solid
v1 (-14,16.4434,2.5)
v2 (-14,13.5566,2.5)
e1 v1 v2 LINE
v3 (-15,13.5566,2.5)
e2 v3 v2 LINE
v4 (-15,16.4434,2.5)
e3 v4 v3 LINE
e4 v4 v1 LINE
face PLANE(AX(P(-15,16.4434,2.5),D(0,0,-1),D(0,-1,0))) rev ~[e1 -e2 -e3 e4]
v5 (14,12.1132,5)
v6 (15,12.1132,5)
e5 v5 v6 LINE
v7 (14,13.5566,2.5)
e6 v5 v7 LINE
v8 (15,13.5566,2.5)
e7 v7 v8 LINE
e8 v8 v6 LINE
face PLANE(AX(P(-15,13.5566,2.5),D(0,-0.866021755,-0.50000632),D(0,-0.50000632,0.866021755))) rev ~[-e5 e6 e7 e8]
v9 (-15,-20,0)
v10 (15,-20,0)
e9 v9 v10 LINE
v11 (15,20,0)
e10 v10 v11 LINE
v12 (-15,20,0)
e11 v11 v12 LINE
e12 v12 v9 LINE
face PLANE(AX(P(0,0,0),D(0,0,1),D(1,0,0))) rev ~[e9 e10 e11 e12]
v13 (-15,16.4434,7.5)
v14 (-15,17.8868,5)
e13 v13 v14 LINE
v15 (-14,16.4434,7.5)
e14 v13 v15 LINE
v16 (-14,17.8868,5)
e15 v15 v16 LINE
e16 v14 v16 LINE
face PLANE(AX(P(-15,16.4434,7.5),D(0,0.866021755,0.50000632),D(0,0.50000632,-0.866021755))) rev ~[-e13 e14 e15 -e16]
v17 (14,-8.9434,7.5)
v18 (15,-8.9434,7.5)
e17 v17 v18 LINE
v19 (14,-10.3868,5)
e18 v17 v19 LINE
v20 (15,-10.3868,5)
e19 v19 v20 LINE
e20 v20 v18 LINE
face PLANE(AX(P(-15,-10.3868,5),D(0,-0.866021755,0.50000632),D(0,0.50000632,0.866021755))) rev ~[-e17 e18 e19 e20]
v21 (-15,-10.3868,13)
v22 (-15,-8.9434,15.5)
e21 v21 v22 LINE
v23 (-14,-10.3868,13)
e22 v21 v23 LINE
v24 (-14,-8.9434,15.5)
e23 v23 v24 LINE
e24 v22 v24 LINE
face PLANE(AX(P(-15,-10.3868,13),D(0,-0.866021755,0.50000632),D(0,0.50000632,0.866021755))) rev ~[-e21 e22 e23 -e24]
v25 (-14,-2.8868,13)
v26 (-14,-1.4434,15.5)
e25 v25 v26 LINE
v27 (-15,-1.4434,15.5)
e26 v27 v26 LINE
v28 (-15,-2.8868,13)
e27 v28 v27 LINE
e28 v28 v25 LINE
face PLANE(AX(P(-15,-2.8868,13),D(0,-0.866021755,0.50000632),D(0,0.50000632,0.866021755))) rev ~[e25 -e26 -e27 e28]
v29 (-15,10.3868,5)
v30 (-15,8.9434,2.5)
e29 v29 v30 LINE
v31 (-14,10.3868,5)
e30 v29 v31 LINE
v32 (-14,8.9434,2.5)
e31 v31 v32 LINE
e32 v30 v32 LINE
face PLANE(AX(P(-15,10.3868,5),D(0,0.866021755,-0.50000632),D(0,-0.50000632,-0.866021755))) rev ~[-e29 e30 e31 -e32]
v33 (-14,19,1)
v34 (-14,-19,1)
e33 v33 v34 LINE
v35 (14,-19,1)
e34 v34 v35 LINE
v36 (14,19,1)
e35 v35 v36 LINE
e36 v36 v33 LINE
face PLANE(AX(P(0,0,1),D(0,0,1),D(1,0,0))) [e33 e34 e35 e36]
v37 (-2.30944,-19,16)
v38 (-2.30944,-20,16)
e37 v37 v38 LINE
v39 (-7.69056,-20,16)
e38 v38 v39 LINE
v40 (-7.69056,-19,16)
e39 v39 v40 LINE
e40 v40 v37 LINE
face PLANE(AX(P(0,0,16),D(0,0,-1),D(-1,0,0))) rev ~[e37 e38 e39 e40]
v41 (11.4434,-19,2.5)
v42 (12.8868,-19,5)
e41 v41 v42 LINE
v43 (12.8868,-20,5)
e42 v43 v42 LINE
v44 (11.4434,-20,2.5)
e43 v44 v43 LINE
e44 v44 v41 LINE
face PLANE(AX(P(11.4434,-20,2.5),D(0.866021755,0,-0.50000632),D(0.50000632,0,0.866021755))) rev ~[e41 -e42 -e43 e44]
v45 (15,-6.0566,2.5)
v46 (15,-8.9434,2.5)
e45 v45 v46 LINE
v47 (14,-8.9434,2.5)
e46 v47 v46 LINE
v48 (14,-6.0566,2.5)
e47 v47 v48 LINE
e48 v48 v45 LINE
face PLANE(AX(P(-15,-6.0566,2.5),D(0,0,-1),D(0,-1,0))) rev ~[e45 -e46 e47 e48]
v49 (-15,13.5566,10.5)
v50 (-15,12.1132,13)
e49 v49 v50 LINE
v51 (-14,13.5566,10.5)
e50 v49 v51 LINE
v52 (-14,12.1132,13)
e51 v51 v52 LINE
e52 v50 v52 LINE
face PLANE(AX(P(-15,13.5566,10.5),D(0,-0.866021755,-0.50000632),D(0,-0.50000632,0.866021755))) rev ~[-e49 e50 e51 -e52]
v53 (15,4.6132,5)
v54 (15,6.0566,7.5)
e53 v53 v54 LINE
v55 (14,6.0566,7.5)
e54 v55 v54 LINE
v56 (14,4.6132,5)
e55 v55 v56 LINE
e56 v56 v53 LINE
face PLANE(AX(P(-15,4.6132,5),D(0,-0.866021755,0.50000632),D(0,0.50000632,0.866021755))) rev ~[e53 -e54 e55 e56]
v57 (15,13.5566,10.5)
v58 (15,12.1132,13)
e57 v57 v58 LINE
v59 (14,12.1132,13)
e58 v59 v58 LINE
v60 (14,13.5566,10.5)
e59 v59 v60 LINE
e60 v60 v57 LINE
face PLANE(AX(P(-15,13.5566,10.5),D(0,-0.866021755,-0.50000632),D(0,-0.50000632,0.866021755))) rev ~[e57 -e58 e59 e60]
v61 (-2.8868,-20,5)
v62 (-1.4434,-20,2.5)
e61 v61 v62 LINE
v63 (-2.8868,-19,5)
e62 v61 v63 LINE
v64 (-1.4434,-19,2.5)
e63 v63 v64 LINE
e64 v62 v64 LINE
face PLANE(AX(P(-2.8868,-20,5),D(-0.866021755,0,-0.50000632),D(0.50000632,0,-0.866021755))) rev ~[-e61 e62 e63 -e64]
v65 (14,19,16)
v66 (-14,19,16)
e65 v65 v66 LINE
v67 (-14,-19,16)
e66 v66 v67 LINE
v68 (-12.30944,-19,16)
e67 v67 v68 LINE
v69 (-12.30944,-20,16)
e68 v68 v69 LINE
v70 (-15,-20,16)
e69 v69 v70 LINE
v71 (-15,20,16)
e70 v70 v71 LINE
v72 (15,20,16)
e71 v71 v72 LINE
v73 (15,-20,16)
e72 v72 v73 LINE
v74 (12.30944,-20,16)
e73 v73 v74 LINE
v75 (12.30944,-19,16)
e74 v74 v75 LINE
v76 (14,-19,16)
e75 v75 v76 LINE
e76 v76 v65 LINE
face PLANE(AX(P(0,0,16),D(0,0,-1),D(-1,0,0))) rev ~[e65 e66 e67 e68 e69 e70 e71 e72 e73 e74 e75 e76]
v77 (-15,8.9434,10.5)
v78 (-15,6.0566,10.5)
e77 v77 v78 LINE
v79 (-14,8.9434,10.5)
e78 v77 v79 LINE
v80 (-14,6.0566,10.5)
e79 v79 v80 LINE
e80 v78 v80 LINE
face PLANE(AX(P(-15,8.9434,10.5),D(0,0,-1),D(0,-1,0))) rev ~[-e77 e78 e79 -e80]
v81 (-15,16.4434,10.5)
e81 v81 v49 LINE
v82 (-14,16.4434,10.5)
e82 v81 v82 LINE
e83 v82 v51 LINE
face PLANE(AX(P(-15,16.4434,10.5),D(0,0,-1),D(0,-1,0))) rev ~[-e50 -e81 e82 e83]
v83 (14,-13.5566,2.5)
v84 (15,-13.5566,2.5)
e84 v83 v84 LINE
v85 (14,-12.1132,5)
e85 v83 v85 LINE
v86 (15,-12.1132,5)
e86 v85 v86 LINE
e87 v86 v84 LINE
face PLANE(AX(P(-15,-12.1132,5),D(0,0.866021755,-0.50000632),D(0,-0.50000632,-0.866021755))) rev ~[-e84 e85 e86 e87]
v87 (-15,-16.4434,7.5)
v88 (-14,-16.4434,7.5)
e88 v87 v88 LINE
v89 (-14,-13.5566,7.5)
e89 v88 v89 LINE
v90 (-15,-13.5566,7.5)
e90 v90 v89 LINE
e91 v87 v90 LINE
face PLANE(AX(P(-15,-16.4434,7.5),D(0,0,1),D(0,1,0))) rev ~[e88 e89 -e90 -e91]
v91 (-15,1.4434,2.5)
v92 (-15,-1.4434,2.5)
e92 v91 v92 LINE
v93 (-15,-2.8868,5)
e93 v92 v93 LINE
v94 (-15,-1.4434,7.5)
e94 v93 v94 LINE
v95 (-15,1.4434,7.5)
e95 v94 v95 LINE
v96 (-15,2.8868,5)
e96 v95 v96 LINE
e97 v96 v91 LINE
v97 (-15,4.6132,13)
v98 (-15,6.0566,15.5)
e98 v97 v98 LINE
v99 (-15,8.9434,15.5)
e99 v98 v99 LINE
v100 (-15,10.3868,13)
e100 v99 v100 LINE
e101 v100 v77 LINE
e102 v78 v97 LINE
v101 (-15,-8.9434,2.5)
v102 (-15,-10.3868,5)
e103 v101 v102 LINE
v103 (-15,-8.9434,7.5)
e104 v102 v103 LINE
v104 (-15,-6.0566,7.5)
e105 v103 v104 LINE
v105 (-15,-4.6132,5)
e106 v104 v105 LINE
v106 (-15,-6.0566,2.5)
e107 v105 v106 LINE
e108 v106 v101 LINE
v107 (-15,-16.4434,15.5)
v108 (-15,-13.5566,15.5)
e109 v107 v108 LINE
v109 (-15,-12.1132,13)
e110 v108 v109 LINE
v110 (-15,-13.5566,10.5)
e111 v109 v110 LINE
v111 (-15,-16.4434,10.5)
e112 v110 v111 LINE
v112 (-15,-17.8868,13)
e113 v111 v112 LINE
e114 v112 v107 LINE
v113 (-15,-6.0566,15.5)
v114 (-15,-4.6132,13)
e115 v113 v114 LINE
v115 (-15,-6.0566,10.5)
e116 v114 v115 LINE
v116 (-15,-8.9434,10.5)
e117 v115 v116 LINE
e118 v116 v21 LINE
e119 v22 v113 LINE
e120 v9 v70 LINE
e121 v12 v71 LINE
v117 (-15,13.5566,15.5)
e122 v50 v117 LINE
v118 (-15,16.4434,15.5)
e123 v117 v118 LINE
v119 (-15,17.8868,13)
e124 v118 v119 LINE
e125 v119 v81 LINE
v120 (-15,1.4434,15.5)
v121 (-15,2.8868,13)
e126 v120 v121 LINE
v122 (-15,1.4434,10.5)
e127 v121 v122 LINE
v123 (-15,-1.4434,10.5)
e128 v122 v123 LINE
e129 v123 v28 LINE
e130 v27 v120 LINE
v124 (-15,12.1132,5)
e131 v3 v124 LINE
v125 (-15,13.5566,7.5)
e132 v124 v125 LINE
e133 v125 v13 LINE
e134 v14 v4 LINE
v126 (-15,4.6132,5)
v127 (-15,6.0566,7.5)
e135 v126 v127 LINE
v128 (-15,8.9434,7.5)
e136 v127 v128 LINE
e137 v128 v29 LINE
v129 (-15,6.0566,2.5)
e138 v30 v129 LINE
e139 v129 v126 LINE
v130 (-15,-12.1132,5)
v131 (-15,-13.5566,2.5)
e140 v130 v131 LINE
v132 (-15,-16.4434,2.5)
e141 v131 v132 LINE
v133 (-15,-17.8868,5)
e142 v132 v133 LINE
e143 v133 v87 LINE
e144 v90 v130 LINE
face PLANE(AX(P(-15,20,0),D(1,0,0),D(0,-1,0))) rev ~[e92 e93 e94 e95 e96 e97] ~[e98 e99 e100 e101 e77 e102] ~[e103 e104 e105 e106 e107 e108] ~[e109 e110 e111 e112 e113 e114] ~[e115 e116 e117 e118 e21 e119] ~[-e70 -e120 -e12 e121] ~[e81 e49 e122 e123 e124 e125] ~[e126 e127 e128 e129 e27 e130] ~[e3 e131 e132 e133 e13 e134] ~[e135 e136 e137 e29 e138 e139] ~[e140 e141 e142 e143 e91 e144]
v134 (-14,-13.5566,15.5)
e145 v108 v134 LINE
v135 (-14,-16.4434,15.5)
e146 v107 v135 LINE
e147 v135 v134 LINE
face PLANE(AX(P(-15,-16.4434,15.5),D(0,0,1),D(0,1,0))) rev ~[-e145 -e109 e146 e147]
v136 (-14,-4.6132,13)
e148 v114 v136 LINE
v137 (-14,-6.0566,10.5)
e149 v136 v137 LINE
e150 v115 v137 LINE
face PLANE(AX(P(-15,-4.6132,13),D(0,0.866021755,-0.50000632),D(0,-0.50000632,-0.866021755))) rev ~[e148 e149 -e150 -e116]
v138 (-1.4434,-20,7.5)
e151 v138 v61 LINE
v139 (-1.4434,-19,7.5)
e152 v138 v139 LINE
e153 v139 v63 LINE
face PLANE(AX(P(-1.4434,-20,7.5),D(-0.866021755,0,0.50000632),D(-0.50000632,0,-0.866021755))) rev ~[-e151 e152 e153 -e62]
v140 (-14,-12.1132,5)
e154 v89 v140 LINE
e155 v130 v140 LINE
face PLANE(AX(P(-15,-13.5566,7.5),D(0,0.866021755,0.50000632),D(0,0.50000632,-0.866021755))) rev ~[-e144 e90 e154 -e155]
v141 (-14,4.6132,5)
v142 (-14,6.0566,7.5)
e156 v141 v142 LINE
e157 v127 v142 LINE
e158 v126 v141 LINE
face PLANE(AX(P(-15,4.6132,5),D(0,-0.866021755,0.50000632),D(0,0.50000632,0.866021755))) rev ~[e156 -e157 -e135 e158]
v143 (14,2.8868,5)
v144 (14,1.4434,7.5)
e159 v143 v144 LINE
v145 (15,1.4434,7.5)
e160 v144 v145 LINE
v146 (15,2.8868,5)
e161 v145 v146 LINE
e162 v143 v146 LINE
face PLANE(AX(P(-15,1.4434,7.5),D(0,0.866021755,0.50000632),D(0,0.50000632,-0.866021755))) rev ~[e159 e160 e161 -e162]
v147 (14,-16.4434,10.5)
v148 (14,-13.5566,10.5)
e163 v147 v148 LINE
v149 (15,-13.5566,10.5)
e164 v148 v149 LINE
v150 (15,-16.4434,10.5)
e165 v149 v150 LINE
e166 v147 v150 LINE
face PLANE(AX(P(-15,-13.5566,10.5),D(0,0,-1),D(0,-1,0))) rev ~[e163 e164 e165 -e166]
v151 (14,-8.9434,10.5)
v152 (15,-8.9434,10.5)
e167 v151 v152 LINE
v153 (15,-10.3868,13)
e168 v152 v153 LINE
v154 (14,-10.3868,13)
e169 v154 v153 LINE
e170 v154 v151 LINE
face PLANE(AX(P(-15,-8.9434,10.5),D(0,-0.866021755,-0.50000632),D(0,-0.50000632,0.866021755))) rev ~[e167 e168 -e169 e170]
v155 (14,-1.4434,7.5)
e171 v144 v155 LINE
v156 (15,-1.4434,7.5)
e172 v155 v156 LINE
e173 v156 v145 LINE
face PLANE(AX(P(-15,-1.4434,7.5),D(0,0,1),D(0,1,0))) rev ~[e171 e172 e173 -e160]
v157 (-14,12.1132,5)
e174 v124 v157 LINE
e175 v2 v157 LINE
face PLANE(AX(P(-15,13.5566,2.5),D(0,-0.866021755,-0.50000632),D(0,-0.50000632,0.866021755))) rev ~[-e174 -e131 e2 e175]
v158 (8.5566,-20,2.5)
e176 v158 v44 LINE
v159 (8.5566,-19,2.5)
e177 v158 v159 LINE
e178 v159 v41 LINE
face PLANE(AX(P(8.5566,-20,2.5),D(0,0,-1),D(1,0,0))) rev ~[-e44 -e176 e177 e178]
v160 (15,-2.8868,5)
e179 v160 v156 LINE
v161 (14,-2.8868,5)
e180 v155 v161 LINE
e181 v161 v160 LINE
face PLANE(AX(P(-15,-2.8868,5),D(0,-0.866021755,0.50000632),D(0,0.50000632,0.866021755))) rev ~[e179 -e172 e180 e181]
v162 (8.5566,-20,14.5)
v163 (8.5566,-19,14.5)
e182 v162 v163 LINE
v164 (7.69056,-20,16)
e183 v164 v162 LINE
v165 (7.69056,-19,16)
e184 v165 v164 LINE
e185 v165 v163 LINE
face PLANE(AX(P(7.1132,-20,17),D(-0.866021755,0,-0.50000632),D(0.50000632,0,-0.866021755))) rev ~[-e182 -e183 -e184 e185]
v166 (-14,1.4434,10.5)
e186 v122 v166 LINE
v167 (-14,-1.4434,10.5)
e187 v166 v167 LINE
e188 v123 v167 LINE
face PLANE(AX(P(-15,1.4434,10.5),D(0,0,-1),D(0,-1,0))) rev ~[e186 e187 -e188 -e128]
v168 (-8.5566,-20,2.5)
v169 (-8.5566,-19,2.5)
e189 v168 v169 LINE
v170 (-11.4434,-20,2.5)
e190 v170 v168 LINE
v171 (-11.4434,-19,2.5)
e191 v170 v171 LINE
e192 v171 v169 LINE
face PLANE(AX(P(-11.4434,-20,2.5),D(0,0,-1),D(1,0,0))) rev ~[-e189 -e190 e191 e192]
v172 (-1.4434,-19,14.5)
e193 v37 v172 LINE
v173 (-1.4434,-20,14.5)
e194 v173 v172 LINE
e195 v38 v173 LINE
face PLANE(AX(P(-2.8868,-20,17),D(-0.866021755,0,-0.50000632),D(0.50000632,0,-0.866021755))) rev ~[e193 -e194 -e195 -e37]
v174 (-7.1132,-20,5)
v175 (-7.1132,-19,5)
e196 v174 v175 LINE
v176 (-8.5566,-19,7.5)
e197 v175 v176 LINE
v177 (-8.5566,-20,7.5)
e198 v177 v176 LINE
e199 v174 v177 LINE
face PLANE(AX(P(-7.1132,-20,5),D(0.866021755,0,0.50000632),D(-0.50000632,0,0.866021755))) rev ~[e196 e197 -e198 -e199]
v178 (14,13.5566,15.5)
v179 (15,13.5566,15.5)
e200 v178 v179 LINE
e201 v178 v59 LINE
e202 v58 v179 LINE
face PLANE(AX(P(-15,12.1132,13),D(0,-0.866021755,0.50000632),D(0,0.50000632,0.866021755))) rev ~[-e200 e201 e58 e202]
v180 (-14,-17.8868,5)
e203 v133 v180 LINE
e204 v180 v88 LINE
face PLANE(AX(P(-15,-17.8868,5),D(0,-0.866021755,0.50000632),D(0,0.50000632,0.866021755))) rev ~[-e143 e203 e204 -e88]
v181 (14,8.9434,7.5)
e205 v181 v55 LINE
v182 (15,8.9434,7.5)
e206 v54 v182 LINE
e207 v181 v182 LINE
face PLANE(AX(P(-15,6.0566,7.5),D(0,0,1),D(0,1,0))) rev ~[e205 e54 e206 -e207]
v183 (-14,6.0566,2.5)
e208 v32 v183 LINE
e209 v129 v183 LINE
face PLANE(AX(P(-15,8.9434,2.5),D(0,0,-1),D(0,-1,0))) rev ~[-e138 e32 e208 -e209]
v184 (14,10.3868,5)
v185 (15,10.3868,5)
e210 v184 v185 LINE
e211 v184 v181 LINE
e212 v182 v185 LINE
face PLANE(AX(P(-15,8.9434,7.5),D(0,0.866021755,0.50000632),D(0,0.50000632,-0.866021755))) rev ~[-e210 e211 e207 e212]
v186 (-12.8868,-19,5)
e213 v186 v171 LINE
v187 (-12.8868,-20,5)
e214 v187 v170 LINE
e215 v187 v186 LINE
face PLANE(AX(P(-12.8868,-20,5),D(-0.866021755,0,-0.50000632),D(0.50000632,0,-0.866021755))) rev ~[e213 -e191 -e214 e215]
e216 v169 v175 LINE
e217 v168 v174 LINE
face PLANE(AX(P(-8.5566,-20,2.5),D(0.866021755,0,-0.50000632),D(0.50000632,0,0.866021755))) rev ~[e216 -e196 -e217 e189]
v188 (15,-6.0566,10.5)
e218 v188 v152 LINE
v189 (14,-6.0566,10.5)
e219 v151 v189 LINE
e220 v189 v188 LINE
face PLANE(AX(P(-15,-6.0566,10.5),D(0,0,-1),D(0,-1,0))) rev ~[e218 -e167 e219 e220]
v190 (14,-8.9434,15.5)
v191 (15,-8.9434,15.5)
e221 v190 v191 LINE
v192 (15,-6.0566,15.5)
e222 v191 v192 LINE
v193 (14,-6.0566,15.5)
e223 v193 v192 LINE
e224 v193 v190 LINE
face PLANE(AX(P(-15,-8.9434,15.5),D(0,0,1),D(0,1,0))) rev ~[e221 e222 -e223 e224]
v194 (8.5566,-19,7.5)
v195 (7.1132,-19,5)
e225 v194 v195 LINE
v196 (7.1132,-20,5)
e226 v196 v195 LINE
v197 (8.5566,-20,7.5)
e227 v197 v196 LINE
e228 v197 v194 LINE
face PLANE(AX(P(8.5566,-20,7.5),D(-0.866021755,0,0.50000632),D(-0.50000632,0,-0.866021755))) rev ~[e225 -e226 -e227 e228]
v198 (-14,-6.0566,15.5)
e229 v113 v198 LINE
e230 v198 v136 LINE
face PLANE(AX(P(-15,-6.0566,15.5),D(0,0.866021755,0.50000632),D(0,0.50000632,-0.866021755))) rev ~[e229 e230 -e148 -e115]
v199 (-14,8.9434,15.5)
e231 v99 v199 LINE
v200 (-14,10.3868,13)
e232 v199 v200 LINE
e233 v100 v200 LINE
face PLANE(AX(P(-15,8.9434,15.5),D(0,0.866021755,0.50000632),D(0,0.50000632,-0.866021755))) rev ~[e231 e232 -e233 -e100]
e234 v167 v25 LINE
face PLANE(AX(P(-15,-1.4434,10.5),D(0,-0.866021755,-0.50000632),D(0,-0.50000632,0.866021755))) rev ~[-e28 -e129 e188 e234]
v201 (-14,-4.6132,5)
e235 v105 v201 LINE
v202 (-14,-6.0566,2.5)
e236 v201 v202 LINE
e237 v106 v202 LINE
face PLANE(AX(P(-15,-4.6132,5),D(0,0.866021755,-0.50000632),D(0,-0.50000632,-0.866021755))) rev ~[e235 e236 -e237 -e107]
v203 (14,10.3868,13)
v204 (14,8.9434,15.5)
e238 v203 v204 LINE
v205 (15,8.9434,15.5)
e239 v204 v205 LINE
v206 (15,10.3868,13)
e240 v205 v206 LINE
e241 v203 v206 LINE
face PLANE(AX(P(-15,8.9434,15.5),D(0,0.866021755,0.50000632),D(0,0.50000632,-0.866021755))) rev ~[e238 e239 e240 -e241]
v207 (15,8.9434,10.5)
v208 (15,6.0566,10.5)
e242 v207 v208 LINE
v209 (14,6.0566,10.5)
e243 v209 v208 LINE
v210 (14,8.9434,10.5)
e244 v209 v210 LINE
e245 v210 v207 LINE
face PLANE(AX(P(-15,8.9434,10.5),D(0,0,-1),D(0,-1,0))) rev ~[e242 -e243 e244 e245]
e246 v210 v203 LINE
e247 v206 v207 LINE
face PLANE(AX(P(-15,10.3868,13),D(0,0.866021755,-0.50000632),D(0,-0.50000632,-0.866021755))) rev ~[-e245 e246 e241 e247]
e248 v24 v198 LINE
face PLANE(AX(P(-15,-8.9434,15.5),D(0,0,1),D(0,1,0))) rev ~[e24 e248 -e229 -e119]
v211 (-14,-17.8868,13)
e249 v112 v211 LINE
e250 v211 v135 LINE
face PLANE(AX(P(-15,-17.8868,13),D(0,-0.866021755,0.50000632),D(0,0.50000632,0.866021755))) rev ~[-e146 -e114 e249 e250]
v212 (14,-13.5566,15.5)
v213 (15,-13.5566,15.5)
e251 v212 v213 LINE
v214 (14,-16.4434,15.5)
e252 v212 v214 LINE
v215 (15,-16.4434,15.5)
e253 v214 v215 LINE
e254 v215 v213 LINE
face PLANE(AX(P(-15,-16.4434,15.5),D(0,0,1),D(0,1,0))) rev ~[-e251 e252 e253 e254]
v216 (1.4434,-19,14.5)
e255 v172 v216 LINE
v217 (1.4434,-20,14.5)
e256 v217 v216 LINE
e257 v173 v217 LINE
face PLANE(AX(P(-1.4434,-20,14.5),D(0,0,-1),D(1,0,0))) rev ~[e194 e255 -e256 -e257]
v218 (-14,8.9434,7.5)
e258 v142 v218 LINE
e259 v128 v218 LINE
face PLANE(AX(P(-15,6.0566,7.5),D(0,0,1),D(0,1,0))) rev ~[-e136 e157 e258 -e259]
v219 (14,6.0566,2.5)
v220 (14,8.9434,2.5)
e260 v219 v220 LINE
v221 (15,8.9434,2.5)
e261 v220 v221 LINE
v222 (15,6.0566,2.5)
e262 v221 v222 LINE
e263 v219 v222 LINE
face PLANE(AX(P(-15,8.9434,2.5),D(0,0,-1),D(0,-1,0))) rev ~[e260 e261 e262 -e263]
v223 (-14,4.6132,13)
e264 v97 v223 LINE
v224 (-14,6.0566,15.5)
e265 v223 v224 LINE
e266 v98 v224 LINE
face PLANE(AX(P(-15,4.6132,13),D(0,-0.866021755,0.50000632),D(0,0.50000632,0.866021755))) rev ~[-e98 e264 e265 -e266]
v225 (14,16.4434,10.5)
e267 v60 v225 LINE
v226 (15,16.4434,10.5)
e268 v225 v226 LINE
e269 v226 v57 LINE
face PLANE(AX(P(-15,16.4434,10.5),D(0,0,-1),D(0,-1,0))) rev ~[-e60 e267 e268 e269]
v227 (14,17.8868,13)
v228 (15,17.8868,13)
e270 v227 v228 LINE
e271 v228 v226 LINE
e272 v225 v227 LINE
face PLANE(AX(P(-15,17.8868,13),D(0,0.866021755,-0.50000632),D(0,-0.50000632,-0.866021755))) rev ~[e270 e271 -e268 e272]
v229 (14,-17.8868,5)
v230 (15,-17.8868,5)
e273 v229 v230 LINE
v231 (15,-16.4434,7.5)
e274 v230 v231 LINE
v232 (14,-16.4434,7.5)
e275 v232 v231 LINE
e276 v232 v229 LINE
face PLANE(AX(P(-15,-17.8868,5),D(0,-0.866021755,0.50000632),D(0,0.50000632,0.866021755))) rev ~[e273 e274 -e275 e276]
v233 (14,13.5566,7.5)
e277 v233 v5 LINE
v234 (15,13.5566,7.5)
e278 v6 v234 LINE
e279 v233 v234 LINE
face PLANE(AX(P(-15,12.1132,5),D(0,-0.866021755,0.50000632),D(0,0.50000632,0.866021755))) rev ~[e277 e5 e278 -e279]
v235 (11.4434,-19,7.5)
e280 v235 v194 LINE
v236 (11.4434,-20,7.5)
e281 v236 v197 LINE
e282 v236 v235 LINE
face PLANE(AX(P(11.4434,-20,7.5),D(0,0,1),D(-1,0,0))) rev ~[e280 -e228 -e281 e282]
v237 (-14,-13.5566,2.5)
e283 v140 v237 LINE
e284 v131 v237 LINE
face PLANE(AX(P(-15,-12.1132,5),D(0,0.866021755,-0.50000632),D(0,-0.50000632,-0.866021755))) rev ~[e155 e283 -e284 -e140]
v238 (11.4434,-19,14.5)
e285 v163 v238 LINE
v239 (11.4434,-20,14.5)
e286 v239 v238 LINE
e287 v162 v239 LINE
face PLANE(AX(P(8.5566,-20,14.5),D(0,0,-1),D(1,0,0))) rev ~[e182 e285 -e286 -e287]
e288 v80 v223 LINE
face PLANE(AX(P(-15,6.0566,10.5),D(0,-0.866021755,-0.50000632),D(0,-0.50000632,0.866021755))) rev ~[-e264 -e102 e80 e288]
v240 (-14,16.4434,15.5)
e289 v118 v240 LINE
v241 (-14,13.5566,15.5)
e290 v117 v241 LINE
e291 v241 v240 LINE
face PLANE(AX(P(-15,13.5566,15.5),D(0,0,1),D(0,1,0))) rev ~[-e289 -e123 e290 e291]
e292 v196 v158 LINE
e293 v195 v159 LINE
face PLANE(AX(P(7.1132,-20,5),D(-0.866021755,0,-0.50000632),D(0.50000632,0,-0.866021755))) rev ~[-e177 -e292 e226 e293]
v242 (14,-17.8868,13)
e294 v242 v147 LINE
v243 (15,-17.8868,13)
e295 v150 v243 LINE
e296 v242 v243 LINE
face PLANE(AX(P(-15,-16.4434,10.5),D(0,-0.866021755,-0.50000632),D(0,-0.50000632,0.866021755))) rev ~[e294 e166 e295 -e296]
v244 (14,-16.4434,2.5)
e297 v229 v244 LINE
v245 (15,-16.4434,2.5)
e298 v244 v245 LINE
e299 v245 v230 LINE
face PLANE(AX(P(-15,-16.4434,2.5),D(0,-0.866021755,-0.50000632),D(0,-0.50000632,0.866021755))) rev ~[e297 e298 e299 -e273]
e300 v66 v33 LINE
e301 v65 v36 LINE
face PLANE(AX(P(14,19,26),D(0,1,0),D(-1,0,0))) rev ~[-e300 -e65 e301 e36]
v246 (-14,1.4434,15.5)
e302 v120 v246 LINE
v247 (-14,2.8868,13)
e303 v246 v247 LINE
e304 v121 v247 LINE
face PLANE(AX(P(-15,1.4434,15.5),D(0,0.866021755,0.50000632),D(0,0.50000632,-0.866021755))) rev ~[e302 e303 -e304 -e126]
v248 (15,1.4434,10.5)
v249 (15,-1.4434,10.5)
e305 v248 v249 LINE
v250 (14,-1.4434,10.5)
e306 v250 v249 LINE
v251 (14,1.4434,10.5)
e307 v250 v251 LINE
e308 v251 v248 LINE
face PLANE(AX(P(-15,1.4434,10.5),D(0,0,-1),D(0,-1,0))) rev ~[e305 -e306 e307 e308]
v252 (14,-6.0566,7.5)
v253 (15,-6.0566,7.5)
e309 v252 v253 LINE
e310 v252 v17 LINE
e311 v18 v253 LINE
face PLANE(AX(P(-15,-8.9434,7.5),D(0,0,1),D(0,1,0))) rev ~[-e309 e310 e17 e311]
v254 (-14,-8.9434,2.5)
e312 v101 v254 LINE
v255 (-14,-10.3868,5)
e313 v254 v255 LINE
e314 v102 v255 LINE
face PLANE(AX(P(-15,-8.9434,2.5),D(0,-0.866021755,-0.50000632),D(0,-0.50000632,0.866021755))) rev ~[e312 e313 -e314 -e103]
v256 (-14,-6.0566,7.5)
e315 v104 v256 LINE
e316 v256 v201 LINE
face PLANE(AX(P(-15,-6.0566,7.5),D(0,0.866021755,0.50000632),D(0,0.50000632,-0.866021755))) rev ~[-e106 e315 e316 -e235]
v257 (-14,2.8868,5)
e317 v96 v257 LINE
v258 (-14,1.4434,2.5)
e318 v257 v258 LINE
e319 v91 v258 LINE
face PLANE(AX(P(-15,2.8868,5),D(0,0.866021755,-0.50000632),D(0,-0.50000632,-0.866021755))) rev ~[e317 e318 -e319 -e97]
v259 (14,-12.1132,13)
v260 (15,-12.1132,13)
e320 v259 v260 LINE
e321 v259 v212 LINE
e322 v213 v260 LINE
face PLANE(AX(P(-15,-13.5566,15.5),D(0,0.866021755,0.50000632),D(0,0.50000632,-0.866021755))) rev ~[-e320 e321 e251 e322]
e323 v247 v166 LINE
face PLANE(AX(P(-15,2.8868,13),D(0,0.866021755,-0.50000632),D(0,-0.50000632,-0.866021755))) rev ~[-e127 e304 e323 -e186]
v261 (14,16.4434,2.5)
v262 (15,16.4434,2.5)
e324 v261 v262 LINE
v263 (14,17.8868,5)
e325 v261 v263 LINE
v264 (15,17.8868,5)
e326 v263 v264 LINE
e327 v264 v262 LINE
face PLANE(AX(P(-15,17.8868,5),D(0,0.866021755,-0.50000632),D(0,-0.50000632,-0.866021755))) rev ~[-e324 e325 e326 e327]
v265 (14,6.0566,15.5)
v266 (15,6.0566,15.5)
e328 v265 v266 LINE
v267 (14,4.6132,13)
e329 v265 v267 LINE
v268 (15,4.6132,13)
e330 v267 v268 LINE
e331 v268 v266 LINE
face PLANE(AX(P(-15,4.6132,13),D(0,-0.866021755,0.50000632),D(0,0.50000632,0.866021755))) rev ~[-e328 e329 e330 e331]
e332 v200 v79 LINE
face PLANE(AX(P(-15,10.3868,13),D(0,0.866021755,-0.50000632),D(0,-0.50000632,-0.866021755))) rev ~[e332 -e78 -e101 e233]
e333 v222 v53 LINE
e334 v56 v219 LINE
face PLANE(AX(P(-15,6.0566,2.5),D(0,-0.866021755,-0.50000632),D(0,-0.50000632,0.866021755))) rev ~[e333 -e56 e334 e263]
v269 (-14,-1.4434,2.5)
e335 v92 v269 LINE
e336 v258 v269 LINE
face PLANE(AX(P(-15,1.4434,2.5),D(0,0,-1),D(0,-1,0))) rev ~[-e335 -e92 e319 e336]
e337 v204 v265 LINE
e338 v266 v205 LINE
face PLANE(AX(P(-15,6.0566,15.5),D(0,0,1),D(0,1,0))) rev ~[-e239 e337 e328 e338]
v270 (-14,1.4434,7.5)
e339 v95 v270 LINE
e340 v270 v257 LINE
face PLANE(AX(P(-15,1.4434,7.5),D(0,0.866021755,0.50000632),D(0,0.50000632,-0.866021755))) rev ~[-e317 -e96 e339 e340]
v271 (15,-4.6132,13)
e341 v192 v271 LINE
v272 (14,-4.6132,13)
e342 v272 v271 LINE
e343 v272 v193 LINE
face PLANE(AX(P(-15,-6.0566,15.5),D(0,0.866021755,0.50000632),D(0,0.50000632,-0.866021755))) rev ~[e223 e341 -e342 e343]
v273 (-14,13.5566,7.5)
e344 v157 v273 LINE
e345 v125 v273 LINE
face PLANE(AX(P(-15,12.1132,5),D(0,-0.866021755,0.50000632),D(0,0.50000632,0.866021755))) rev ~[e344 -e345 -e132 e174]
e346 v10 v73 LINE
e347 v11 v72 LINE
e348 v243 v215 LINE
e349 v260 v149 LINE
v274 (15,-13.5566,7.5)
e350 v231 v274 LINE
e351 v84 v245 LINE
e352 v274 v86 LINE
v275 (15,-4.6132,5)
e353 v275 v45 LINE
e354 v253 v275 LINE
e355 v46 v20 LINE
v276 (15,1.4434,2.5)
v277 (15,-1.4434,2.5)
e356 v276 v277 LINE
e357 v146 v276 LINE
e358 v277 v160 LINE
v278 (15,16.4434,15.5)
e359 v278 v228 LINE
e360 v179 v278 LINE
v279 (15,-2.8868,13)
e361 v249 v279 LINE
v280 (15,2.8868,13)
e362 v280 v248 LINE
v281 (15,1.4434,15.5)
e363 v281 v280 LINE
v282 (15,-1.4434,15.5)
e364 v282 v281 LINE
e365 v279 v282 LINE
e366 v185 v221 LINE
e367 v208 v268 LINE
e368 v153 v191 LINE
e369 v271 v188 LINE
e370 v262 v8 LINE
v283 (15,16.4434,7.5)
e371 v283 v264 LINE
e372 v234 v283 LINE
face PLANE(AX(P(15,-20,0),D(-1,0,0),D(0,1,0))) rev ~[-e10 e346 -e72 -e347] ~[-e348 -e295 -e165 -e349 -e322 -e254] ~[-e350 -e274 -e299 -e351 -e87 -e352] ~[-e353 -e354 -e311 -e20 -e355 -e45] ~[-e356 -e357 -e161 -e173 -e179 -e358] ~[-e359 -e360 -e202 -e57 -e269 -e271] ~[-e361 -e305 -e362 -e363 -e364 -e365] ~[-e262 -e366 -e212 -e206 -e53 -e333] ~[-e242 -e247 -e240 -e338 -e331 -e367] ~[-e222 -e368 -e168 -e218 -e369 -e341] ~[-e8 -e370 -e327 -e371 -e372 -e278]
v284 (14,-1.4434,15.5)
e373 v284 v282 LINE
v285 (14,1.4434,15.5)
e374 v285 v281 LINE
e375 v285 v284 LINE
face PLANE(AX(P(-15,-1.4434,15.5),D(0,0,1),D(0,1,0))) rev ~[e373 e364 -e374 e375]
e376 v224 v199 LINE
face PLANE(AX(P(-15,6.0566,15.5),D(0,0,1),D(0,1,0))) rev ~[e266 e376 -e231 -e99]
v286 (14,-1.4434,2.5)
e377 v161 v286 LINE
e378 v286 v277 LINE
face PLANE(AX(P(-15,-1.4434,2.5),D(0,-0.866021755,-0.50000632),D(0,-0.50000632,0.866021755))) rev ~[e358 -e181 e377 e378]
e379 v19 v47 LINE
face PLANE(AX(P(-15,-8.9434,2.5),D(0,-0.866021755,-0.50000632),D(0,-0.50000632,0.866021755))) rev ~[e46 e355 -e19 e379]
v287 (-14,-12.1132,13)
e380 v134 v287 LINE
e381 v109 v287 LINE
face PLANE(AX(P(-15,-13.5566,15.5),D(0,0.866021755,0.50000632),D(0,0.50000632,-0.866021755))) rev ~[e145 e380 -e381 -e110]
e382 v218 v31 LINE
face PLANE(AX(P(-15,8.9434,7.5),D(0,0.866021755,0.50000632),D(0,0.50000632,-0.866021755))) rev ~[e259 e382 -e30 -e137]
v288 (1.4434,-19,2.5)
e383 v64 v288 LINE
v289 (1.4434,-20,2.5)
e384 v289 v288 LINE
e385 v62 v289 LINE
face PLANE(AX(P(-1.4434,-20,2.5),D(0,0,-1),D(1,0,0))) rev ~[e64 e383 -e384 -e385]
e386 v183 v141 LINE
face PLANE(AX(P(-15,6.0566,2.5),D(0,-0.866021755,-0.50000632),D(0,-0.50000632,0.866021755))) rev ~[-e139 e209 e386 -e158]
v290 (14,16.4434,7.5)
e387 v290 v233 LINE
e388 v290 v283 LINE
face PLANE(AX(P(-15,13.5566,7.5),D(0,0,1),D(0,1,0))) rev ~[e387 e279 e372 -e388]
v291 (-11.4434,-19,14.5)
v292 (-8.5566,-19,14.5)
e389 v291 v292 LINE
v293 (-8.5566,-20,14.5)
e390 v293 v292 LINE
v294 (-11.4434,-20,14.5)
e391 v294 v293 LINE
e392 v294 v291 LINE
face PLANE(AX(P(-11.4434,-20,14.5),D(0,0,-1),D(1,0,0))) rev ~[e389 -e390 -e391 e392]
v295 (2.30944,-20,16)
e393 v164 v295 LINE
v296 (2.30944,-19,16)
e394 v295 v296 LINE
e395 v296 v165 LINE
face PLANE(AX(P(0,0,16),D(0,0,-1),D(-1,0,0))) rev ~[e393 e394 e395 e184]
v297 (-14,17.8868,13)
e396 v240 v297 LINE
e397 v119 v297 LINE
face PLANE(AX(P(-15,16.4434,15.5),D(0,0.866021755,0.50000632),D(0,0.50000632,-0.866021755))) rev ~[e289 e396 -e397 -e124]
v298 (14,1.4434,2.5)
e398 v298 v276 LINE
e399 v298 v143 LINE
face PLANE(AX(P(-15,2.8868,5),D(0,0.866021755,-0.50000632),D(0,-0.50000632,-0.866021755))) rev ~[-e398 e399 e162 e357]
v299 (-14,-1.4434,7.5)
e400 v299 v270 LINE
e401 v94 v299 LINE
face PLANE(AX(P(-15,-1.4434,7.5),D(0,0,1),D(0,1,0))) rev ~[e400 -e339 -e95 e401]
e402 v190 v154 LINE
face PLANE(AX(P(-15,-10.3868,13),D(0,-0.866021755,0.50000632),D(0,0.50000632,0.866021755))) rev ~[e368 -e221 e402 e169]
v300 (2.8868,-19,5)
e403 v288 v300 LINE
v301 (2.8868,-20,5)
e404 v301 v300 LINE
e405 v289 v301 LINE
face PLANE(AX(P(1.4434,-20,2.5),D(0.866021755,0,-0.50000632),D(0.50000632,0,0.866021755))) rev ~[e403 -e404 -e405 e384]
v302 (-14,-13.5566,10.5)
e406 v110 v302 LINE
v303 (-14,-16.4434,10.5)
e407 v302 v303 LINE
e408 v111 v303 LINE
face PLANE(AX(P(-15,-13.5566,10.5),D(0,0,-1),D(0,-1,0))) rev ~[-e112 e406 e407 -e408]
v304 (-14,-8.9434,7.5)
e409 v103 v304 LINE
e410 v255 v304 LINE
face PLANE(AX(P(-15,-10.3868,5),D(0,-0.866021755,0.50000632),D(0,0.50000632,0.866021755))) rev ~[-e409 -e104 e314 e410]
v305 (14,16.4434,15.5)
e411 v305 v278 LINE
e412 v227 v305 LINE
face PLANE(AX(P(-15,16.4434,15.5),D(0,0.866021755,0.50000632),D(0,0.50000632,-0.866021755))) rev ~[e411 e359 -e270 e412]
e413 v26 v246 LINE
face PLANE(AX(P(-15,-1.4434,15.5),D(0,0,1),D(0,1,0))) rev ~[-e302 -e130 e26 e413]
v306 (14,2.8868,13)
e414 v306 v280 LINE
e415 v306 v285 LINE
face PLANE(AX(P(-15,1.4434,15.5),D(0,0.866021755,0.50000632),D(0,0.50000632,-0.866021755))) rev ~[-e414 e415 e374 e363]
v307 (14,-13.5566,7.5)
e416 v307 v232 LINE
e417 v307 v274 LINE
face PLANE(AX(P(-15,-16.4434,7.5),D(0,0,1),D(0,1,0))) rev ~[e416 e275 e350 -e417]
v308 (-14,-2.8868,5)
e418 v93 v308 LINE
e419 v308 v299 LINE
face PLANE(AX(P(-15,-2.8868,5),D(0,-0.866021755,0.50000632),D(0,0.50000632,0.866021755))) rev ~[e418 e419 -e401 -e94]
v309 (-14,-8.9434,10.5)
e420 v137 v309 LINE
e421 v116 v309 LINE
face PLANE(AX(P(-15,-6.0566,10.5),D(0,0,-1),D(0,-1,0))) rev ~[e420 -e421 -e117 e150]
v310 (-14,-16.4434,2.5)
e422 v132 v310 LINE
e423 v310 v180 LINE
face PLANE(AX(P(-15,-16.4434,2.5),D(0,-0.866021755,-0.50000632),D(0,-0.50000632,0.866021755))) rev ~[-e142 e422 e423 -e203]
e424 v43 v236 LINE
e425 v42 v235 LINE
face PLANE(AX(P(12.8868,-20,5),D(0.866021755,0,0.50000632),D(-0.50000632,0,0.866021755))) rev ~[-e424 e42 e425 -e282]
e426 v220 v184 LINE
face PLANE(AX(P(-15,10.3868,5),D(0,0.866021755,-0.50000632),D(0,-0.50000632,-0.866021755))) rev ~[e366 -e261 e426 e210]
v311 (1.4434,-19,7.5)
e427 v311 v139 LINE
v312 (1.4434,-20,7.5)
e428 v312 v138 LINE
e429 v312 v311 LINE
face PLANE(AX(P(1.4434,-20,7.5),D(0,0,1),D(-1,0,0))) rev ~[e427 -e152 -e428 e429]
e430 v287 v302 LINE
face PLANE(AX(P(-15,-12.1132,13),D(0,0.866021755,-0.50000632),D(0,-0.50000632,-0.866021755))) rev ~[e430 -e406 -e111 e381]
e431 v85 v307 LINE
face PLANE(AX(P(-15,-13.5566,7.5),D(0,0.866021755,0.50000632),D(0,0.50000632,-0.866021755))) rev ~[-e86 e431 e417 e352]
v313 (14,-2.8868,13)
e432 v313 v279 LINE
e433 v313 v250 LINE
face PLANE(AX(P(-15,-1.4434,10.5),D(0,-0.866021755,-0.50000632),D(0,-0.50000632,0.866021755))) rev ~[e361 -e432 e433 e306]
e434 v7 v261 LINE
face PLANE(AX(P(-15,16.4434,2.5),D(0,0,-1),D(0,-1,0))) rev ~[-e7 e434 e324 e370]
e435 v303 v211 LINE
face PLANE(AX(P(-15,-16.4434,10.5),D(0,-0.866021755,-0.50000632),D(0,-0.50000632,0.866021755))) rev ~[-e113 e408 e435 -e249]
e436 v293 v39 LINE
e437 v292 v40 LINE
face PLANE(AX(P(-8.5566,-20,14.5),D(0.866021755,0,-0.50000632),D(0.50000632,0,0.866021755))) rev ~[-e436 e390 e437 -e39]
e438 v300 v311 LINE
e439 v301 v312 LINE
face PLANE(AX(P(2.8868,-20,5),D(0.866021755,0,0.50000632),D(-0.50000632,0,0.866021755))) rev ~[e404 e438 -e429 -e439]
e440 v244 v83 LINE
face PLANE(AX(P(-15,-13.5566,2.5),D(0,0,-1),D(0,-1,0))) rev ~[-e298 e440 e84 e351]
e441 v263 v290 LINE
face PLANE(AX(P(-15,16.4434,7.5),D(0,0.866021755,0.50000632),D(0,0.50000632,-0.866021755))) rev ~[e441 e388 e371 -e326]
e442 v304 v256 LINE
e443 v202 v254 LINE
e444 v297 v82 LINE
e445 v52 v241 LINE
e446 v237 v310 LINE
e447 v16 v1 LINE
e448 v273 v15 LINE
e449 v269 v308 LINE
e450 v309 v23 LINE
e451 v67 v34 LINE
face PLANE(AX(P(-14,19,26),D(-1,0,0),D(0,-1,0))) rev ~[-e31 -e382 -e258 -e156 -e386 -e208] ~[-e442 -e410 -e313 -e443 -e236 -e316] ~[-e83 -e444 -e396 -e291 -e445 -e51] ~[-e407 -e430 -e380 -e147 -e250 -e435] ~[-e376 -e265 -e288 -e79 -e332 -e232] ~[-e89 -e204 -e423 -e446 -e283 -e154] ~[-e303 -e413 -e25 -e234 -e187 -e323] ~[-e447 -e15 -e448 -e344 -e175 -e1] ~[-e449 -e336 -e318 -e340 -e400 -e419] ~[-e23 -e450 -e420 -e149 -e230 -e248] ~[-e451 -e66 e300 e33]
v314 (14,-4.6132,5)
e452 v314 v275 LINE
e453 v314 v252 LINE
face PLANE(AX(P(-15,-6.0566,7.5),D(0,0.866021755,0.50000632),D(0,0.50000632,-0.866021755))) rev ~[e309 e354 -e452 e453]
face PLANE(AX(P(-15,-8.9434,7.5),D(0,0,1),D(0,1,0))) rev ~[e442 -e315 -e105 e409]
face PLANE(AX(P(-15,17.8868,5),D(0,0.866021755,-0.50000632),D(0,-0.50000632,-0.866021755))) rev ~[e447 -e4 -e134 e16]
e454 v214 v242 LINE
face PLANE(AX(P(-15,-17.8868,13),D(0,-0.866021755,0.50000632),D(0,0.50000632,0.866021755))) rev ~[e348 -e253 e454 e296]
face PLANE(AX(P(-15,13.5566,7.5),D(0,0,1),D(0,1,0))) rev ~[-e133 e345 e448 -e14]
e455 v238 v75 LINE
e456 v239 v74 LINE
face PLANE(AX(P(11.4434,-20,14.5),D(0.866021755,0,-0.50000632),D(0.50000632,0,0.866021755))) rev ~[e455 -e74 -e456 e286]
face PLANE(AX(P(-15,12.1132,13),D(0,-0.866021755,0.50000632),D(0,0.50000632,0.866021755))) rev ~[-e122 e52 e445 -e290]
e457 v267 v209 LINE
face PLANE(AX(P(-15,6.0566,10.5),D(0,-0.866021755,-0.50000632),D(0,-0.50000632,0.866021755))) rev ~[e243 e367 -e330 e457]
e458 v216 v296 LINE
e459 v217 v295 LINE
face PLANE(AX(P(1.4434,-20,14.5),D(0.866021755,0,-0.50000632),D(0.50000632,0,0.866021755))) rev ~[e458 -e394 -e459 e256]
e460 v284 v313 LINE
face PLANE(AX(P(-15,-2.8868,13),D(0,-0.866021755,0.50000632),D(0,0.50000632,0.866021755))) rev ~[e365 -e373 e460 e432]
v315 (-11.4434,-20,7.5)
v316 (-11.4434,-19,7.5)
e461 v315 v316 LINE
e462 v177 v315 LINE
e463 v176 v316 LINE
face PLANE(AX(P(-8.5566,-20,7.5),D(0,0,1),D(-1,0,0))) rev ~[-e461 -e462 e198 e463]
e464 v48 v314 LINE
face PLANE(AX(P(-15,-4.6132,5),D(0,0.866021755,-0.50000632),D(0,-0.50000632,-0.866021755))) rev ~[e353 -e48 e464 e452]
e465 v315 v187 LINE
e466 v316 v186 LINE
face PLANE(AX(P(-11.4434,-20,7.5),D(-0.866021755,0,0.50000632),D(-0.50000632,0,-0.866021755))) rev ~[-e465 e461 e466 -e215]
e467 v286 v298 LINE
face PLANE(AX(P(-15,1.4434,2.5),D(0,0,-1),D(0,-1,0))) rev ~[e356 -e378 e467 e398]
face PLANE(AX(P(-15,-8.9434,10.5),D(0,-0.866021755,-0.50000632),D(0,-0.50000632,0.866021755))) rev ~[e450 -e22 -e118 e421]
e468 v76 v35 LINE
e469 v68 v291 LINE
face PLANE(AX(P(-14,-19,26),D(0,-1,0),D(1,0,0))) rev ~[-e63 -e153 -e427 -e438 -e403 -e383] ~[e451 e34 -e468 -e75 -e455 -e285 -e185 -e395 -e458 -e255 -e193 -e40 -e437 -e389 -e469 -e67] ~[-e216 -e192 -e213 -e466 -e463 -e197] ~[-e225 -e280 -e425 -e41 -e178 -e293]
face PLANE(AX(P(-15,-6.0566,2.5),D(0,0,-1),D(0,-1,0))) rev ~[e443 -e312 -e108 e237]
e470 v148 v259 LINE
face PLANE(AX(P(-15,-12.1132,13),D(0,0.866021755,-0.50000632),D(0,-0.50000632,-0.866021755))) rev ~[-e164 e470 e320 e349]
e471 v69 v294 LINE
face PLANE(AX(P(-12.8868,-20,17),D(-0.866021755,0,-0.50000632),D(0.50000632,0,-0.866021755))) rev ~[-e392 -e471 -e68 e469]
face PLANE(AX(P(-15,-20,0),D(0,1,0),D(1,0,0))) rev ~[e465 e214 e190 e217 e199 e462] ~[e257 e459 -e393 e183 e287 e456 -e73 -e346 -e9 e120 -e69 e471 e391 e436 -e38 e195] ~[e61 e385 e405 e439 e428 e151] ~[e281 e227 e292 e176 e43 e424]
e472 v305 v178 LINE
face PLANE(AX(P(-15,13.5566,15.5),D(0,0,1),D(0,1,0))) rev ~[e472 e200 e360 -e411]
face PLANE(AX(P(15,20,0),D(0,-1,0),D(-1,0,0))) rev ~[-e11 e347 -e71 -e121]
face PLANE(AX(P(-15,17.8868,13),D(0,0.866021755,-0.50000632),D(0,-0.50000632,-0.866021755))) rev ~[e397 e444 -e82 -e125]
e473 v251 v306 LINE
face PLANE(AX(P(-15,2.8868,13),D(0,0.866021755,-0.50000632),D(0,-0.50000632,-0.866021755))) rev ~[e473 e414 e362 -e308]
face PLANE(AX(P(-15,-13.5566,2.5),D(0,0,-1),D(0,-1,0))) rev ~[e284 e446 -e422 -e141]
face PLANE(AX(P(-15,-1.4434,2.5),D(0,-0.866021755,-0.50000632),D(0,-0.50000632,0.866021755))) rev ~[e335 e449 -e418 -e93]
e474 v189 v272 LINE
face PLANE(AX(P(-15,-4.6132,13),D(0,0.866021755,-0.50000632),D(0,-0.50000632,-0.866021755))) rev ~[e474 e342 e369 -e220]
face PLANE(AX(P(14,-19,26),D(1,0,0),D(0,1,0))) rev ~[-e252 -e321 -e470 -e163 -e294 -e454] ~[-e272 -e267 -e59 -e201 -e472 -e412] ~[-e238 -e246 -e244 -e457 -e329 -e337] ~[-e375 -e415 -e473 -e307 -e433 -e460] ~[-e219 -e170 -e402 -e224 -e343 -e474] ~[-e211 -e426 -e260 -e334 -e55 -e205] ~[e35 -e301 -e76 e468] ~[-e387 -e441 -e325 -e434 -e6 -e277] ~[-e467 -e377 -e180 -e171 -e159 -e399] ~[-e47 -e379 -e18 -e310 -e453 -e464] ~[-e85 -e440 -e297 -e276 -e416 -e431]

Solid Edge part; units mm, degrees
sketch "Sketch1" plane through (0, 0, 0) normal (0, 0, 1) x (1, 0, 0)
  line L0 (-15, -20) -> (15, -20)
  line L1 (15, -20) -> (15, 20)
  line L2 (15, 20) -> (-15, 20)
  line L3 (-15, 20) -> (-15, -20)
  dimension "D1" = 40
  dimension "D2" = 30
extrude "Protrusion1" add sketch "Sketch1" along normal blind 26
sketch "Sketch2" plane through (0, 0, 26) normal (0, 0, 1) x (1, 0, 0)
  line L0 (-14, -19) -> (14, -19)
  line L1 (14, -19) -> (14, 19)
  line L2 (14, 19) -> (-14, 19)
  line L3 (-14, 19) -> (-14, -19)
extrude "Cutout1" cut sketch "Sketch2" against normal blind 25
sketch "Sketch3" plane through (0, -20, 13) normal (0, -1, 0) x (1, 0, 0)
  line L0 (-8.5566, -10.5) -> (-7.1132, -8)
  line L1 (-7.1132, -8) -> (-8.5566, -5.5)
  line L2 (-8.5566, -5.5) -> (-11.4434, -5.5)
  line L3 (-11.4434, -5.5) -> (-12.8868, -8)
  line L4 (-12.8868, -8) -> (-11.4434, -10.5)
  line L5 (-11.4434, -10.5) -> (-8.5566, -10.5)
extrude "Extrusionsausschnitt_2" cut sketch "Sketch3" against normal blind 6.1119
pattern_linear "Pattern1" count 3 spacing 10 along (1, 0, 0) count 2 spacing 12 along (0, 0, 1) of "Extrusionsausschnitt_2"
sketch "Sketch4" plane through (-15, 0, 13) normal (-1, 0, 0) x (0, 1, 0)
  line L0 (-16.4434, 10.5) -> (-17.8868, 8)
  line L1 (-17.8868, 8) -> (-16.4434, 5.5)
  line L2 (-16.4434, 5.5) -> (-13.5566, 5.5)
  line L3 (-13.5566, 5.5) -> (-12.1132, 8)
  line L4 (-12.1132, 8) -> (-13.5566, 10.5)
  line L5 (-13.5566, 10.5) -> (-16.4434, 10.5)
extrude "Extrusionsausschnitt_3" cut sketch "Sketch4" against normal blind 40.3995
pattern_linear "Pattern3" count 5 spacing 7.5 along (0, 1, 0) count 2 spacing 8 along (0, 0, 1) of "Extrusionsausschnitt_3"
sketch "Sketch5" plane through (0, -20, 13) normal (0, -1, 0) x (0, 0, -1)
  circle A0 centre (-13, 0) radius 1
  circle A1 centre (-13, 10) radius 1
  circle A2 centre (-13, -10) radius 1
extrude "Extrusionsausschnitt_4" cut sketch "Sketch5" against normal blind 4.5724
extrude "Protrusion2" [suppressed]
sketch "Sketch6" plane through (0, 0, 26) normal (0, 0, 1) x (0, 1, 0)
  line L0 (-20, 15) -> (20, 15)
  line L1 (20, 15) -> (20, -15)
  line L2 (20, -15) -> (-20, -15)
  line L3 (-20, -15) -> (-20, 15)
extrude "Extrusionsausschnitt_5" cut sketch "Sketch6" against normal blind 10
